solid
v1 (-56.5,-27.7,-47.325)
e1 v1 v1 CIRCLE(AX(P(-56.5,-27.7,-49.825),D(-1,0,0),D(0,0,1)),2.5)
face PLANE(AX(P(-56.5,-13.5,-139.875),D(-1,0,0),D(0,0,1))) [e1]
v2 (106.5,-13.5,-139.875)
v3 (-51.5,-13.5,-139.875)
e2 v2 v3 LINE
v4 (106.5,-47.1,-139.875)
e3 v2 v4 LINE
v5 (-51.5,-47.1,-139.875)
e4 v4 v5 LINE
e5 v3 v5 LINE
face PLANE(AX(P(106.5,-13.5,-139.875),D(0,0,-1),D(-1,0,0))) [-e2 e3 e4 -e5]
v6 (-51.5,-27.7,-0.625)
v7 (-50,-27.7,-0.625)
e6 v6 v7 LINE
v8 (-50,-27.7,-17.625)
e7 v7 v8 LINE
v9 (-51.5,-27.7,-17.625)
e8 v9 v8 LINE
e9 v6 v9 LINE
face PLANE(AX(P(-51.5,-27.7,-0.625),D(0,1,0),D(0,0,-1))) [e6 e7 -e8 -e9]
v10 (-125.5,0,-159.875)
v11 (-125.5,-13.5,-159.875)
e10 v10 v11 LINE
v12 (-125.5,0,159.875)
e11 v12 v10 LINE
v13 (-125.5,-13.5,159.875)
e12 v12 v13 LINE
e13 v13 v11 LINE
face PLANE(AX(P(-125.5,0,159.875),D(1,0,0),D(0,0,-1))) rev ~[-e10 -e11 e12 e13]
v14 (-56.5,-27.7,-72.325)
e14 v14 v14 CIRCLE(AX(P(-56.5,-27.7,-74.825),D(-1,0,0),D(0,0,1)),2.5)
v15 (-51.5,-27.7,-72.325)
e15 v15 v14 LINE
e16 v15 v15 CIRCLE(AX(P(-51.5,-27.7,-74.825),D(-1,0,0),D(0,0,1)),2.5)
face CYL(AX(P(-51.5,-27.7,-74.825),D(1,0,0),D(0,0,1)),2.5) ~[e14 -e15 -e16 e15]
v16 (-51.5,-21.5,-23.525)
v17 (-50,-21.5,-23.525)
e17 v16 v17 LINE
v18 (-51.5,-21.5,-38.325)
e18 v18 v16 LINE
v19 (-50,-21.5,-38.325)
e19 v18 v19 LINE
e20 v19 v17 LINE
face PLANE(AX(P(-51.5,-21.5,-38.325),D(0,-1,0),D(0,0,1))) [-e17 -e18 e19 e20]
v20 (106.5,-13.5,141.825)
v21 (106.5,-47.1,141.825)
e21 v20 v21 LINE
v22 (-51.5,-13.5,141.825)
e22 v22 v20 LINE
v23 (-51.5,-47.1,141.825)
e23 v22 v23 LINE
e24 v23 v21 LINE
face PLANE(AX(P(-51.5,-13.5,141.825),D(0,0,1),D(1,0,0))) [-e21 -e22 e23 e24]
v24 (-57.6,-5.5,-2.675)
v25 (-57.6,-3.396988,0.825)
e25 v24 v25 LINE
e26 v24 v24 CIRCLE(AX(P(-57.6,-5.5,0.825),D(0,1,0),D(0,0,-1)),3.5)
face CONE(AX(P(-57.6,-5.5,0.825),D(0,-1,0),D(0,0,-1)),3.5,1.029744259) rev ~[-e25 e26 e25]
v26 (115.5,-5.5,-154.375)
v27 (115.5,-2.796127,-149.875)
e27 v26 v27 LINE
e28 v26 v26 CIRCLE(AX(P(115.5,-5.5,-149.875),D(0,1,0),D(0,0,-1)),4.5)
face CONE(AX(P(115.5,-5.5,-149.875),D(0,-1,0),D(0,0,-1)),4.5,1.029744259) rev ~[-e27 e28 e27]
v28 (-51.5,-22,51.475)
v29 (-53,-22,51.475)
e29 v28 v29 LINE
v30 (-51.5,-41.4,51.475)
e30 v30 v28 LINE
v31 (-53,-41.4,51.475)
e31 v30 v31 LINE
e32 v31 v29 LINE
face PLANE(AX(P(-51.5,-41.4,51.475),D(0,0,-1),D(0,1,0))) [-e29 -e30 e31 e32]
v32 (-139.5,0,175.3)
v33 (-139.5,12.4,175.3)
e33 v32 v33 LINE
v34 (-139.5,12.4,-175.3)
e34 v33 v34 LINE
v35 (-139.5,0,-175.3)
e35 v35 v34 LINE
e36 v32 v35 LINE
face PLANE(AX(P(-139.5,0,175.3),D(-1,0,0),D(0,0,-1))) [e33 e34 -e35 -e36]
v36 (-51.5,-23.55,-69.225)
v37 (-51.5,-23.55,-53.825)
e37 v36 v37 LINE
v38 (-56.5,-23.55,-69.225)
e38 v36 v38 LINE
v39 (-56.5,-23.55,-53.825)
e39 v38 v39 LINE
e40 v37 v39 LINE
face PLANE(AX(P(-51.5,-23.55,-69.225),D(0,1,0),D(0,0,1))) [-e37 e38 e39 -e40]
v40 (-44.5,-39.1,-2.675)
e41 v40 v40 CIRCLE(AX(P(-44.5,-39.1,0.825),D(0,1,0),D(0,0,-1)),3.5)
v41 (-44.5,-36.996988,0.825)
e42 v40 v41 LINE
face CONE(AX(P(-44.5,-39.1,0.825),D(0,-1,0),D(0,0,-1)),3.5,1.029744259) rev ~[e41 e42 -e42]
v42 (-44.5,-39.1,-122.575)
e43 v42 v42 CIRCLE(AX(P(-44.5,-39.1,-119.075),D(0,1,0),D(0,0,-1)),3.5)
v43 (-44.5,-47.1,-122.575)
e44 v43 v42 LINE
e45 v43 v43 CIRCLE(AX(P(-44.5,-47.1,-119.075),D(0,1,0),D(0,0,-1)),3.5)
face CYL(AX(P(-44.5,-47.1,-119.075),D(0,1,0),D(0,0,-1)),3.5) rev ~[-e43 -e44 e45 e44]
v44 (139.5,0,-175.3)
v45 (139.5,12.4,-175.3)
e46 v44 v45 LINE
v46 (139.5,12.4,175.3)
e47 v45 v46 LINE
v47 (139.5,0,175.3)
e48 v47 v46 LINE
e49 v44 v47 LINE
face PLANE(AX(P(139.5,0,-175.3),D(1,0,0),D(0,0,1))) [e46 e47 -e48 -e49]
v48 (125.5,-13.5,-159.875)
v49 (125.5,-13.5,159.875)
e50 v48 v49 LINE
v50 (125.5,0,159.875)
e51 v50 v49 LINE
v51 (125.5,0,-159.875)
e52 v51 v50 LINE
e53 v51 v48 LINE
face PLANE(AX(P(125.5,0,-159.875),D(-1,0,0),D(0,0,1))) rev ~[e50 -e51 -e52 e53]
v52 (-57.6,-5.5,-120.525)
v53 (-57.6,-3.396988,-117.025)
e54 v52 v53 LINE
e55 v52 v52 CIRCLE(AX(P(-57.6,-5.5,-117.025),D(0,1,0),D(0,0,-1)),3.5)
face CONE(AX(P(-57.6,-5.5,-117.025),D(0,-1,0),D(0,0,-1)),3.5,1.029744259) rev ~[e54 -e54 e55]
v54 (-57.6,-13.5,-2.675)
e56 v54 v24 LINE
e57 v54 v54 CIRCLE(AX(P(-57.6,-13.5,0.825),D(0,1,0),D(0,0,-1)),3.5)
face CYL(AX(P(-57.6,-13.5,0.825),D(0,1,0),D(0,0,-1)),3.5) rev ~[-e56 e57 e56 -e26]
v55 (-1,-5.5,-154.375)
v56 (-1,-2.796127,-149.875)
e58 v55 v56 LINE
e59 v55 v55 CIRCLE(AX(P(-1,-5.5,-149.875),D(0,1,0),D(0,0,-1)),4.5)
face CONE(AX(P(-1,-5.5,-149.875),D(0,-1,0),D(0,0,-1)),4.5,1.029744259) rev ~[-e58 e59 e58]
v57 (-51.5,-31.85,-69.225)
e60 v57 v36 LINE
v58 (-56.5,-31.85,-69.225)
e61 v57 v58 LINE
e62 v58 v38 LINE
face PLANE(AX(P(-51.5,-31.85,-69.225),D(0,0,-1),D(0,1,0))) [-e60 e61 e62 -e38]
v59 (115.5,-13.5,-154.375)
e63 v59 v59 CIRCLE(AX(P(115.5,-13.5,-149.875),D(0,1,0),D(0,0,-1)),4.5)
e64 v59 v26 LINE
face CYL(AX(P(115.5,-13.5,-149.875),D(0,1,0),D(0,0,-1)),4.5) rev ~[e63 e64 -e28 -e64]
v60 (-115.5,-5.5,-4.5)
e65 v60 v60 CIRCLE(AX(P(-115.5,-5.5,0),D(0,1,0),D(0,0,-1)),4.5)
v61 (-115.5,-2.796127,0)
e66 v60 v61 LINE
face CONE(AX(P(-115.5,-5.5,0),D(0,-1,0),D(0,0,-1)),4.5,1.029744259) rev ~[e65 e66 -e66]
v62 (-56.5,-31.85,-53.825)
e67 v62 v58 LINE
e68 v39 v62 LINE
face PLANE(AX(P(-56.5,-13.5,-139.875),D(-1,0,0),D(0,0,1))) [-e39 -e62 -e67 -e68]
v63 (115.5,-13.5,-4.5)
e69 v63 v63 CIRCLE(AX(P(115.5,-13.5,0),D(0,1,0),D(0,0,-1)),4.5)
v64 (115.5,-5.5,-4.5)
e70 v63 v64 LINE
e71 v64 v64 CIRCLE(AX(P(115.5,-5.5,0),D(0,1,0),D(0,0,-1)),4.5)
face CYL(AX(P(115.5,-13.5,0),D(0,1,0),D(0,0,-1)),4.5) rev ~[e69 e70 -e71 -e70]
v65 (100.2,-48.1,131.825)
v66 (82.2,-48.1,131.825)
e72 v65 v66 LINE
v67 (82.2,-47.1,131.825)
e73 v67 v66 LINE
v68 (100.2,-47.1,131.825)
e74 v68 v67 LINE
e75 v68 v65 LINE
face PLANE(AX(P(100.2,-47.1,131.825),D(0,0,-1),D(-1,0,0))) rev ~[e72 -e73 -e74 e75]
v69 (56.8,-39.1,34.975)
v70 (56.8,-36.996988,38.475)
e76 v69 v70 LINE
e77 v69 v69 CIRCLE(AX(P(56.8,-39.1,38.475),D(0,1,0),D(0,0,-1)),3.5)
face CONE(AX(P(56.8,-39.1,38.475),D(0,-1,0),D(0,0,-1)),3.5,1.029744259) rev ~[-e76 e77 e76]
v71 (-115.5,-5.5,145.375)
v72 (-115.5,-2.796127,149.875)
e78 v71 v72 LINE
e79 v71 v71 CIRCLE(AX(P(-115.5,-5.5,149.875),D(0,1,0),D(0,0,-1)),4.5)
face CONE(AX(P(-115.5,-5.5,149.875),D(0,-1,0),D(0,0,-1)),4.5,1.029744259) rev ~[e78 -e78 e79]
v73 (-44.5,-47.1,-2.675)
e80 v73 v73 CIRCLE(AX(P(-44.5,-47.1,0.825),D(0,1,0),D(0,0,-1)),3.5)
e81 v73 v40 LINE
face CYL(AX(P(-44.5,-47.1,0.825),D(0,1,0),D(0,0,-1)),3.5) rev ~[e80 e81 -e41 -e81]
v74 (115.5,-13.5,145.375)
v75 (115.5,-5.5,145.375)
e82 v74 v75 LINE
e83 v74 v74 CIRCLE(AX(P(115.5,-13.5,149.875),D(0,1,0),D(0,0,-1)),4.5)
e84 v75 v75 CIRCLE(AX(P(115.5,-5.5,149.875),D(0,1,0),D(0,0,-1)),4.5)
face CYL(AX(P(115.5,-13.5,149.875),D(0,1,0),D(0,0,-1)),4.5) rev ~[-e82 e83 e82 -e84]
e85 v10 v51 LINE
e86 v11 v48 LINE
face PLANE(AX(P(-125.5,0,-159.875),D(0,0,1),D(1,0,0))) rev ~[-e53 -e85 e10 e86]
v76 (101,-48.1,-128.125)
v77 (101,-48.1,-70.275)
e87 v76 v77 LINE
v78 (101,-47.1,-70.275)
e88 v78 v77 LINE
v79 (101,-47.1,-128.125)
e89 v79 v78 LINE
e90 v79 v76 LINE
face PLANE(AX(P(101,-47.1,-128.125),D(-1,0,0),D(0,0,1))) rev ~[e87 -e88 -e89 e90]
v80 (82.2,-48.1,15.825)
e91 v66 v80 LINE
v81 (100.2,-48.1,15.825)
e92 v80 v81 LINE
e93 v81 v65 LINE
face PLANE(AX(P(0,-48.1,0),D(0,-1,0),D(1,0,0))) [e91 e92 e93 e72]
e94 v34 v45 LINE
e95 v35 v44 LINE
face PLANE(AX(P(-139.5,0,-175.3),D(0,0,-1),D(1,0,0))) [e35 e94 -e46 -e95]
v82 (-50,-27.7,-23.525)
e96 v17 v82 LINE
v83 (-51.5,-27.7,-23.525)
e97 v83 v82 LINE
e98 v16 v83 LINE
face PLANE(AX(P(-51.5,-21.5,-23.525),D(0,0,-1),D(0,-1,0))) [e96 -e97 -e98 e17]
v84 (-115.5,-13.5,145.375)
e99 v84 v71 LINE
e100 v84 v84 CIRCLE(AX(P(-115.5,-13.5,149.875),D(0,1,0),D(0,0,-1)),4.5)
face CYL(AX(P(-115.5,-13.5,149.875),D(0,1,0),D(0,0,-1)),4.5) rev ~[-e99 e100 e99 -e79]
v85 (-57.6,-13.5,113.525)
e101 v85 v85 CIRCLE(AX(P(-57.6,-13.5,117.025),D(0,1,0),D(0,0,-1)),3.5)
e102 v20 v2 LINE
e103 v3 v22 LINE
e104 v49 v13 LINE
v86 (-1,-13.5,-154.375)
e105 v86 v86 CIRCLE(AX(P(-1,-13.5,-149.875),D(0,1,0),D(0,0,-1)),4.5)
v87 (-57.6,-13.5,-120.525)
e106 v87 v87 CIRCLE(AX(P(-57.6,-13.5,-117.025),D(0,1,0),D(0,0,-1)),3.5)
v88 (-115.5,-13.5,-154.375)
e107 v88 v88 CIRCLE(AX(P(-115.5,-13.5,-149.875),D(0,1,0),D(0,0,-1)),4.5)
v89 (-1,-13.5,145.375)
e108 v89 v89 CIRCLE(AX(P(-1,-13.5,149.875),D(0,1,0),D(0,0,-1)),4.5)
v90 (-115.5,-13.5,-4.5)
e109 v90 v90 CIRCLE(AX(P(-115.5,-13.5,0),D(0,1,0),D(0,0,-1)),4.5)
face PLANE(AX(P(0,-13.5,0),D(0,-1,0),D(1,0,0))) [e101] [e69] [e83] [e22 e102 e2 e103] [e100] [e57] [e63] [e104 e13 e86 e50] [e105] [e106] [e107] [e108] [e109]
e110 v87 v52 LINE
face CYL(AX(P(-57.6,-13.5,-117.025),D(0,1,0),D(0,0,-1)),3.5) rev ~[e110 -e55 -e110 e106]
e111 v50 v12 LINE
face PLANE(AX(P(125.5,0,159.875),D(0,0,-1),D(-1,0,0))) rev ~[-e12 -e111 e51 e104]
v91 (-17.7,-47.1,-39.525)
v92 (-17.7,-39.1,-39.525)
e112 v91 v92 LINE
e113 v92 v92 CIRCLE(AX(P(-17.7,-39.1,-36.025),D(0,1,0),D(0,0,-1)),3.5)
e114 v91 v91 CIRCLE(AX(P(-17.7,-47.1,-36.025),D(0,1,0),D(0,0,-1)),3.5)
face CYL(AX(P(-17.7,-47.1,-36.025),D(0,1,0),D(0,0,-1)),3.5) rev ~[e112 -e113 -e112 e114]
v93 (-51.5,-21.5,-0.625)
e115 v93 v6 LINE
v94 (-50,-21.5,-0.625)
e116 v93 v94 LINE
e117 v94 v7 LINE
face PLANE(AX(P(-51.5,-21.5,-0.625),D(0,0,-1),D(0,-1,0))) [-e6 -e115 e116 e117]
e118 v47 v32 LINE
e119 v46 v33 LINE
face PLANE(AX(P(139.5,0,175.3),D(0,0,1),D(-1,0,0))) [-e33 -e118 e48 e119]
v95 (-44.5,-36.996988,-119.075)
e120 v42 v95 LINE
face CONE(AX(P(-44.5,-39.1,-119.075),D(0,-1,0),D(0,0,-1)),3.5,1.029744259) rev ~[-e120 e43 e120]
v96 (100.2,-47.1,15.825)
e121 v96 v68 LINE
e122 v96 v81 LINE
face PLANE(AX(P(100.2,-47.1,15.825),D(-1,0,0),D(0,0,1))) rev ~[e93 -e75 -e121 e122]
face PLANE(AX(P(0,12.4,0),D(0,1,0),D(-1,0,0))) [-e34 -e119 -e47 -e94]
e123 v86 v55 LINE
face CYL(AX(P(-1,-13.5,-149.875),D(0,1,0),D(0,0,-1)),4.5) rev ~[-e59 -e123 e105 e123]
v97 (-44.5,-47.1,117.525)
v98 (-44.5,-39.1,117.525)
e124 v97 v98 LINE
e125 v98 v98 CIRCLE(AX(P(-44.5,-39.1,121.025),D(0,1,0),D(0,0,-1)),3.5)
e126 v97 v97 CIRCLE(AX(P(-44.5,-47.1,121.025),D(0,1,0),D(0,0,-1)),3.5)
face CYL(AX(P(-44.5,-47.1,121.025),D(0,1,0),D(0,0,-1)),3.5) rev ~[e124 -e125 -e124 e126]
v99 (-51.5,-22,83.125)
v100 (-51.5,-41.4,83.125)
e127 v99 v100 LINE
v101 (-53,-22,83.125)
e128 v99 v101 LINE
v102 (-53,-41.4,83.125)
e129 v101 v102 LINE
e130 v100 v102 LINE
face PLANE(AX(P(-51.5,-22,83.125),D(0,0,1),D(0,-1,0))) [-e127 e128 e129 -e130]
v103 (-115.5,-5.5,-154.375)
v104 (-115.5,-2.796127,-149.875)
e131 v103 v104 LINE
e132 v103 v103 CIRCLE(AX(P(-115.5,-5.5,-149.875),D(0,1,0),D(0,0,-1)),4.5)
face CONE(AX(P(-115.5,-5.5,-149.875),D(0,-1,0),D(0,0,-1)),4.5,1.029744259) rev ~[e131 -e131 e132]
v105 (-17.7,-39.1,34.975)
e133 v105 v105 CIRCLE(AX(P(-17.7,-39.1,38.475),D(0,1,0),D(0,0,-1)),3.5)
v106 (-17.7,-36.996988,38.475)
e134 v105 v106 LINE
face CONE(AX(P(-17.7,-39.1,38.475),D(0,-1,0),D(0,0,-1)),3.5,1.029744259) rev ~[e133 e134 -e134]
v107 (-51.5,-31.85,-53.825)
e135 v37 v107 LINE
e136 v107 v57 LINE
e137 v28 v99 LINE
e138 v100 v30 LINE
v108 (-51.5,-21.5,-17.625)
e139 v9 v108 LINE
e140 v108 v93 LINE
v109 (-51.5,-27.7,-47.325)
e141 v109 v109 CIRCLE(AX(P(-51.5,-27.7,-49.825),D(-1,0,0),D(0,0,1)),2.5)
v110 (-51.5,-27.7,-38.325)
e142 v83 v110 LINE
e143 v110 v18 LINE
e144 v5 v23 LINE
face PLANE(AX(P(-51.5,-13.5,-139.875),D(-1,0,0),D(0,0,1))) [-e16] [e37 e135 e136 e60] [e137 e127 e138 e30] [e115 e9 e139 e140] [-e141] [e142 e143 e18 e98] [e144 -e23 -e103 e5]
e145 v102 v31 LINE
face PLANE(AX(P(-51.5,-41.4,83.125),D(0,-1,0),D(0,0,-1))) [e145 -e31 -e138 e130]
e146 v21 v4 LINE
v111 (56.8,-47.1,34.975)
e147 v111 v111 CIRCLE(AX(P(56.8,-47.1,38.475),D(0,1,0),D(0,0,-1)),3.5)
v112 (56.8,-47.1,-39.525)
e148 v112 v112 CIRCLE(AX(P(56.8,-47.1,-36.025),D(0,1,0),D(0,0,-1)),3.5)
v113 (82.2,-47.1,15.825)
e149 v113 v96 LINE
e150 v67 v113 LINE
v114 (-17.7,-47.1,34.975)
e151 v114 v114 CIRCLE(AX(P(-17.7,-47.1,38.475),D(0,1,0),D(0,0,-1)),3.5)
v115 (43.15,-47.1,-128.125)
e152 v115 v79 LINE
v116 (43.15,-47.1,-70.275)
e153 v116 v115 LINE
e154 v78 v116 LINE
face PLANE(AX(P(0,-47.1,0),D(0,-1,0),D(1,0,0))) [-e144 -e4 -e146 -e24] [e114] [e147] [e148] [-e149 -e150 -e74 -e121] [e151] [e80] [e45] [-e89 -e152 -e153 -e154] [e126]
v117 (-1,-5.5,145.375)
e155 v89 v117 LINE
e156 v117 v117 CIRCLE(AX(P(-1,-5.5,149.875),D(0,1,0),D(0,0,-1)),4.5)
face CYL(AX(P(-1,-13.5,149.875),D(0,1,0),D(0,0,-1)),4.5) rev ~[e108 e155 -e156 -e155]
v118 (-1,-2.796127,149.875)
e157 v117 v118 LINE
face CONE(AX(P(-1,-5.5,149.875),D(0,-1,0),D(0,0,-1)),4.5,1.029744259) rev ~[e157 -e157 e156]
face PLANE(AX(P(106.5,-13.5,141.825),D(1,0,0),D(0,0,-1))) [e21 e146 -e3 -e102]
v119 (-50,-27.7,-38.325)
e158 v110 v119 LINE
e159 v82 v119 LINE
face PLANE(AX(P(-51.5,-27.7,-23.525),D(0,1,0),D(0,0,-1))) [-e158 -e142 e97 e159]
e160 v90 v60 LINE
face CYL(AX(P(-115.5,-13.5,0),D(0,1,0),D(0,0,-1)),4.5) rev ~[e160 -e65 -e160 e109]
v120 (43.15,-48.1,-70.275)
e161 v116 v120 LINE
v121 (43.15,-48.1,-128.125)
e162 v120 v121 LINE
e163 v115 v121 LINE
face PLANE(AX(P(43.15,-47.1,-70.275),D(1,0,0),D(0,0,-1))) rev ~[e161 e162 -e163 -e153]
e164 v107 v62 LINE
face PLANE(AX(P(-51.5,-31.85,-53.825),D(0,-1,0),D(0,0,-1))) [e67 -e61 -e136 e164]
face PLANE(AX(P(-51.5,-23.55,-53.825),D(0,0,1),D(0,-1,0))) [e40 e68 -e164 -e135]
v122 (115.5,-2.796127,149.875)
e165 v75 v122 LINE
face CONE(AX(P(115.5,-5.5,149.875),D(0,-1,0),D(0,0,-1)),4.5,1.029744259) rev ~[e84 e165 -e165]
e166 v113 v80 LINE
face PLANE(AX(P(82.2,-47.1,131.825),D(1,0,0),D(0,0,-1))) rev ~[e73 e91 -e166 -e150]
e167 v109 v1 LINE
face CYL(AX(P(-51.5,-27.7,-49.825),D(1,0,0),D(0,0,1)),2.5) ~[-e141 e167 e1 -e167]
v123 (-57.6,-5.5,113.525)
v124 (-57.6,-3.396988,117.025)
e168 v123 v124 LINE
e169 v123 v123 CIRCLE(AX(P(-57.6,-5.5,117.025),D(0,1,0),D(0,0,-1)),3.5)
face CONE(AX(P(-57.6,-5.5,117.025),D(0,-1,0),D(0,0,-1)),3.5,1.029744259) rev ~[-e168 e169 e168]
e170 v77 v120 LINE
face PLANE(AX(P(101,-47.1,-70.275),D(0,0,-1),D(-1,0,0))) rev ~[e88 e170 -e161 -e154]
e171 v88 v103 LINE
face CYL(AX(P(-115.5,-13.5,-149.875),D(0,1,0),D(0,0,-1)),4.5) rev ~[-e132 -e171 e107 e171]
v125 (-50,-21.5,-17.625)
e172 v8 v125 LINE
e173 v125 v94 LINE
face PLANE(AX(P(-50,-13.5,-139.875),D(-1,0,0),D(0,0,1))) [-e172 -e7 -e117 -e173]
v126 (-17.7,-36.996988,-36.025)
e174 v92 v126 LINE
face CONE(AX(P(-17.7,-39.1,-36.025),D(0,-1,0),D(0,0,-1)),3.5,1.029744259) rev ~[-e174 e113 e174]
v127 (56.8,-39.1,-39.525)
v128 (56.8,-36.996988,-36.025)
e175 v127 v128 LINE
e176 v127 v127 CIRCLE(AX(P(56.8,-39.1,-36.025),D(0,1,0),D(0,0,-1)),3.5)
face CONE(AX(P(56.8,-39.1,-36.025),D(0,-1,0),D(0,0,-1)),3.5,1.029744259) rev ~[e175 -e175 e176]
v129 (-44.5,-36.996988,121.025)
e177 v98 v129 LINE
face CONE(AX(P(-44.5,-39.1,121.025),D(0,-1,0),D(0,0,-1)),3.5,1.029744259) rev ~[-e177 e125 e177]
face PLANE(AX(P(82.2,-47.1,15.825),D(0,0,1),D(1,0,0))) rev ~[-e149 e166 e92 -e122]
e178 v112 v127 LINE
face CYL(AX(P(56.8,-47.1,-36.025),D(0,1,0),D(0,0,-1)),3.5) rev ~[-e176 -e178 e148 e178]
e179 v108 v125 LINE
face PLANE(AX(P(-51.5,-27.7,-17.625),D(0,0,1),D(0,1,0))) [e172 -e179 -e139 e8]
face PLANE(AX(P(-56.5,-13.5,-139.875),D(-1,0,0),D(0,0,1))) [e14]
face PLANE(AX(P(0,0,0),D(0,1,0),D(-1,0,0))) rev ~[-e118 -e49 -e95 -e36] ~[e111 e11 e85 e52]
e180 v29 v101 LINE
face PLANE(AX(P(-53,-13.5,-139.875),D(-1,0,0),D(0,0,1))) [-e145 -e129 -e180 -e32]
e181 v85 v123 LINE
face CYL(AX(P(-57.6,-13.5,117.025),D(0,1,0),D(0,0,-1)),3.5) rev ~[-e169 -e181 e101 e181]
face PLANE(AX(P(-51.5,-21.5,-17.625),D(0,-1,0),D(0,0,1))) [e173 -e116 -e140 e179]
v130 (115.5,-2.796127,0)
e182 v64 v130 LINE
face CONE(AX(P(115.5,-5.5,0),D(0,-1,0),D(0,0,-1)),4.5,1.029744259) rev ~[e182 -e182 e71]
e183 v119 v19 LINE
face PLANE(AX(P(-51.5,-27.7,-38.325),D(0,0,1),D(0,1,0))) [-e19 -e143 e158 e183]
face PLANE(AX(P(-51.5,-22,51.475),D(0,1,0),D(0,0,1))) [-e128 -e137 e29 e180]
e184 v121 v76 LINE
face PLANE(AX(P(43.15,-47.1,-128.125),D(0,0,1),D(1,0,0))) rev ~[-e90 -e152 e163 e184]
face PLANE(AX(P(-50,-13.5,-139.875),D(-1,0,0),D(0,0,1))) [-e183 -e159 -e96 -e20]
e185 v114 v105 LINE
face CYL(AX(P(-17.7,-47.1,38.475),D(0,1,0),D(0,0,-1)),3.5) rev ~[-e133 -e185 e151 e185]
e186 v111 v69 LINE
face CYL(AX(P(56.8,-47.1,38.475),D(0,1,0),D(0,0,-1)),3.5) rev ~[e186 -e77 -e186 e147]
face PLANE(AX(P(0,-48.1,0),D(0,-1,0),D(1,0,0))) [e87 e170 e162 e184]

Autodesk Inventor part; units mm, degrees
ref_plane "YZ Plane" through (0, 0, 0) normal (1, 0, 0) x (0, 1, 0)
ref_plane "XZ Plane" through (0, 0, 0) normal (0, 1, 0) x (-1, 0, 0)
ref_plane "XY Plane" through (0, 0, 0) normal (0, 0, 1) x (1, 0, 0)
sketch "Sketch1" plane through (0, 0, 0) normal (0, 1, 0) x (-1, 0, 0)
  point P0 (0, 0)
sketch "Sketch2" plane through (0, 0, 0) normal (0, 1, 0) x (-1, 0, 0)
  line L0 (-139.5, 175.3) -> (139.5, 175.3)
  line L1 (139.5, 175.3) -> (139.5, -175.3)
  line L2 (139.5, -175.3) -> (-139.5, -175.3)
  line L3 (-139.5, -175.3) -> (-139.5, 175.3)
  line L4 (-139.5, 175.3) -> (139.5, -175.3) construction
  line L5 (139.5, 175.3) -> (-139.5, -175.3) construction
  point P0 (0, 0)
  dimension "d0" = 350.6
  dimension "d1" = 279
extrude "Extrusion1" add sketch "Sketch2" along normal blind 12.4
sketch "Sketch3" plane through (0, 0, 0) normal (0, -1, 0) x (1, 0, 0)
  line L0 (-125.5, -159.875) -> (125.5, -159.875)
  line L1 (125.5, -159.875) -> (125.5, 159.875)
  line L2 (125.5, 159.875) -> (-125.5, 159.875)
  line L3 (-125.5, 159.875) -> (-125.5, -159.875)
  line L4 (-125.5, -159.875) -> (125.5, 159.875) construction
  line L5 (125.5, -159.875) -> (-125.5, 159.875) construction
  point P0 (0, 0)
  dimension "d4" = 319.75
  dimension "d5" = 251
extrude "Extrusion2" add sketch "Sketch3" along normal blind 13.5
sketch "Sketch4" plane through (0, -13.5, 0) normal (0, -1, 0) x (1, 0, 0)
  line L0 (125.5, 159.875) -> (-125.5, 159.875) projected
  line L1 (-125.5, 159.875) -> (-125.5, -159.875) projected
  line L2 (125.5, -159.875) -> (125.5, 159.875) projected
  line L3 (-125.5, -159.875) -> (125.5, -159.875) projected
  point P0 (0, 0)
  point P1 (-115.5, 149.875)
  point P2 (-115.5, -149.875)
  point P3 (115.5, 149.875)
  point P4 (115.5, -149.875)
  dimension "d15" = 10
  dimension "d16" = 10
  dimension "d19" = 299.75
  dimension "d22" = 231
  dimension "d25" = 10
  dimension "d26" = 10
hole "Hole1" at (-115.5, -13.5, 149.875) at (115.5, -13.5, 149.875) at (115.5, -13.5, -149.875) at (-115.5, -13.5, -149.875) direction (0, 1, 0) diameter 9 depth 8 tip angle 118
sketch "Sketch5" plane through (0, -13.5, 0) normal (0, -1, 0) x (1, 0, 0)
  line L0 (125.5, 159.875) -> (-125.5, 159.875) projected
  line L1 (-125.5, 159.875) -> (-125.5, -159.875) projected
  line L2 (125.5, -159.875) -> (125.5, 159.875) projected
  point P0 (0, 0)
  point P1 (-115.5, 0)
  point P2 (115.5, 0)
  dimension "d34" = 159.875
  dimension "d35" = 10
  dimension "d38" = 231
  dimension "d43" = 10
hole "Hole2" at (-115.5, -13.5, 0) at (115.5, -13.5, 0) direction (0, 1, 0) diameter 9 depth 8 tip angle 118
sketch "Sketch6" plane through (0, -13.5, 0) normal (0, -1, 0) x (1, 0, 0)
  circle A0 centre (-115.5, 149.875) radius 4.5 projected
  line L0 (-125.5, 159.875) -> (-125.5, -159.875) projected
  line L1 (-125.5, -159.875) -> (125.5, -159.875) projected
  line L2 (125.5, 159.875) -> (-125.5, 159.875) projected
  point P0 (0, 0)
  point P1 (-1, 149.875)
  point P2 (-1, -149.875)
  dimension "d55" = 298
  dimension "d52" = 124.5
  dimension "d60" = 10
  dimension "d188" = 10
hole "Hole3" at (-1, -13.5, -149.875) at (-1, -13.5, 149.875) direction (0, 1, 0) diameter 9 depth 8 tip angle 118
sketch "Sketch7" plane through (0, -13.5, 0) normal (0, -1, 0) x (1, 0, 0)
  line L0 (-51.5, 141.825) -> (106.5, 141.825)
  line L1 (106.5, 141.825) -> (106.5, -139.875)
  line L2 (106.5, -139.875) -> (-51.5, -139.875)
  line L3 (-51.5, -139.875) -> (-51.5, 141.825)
  line L4 (-51.5, 141.825) -> (106.5, -139.875) construction
  line L5 (106.5, 141.825) -> (-51.5, -139.875) construction
  line L6 (125.5, -159.875) -> (125.5, 159.875) projected
  line L7 (-125.5, -159.875) -> (125.5, -159.875) projected
  point P0 (0, 0)
  dimension "d61" = 281.7
  dimension "d62" = 158
  dimension "d63" = 19
  dimension "d64" = 20
extrude "Extrusion3" add sketch "Sketch7" along normal blind 33.6
sketch "Sketch8" plane through (0, -47.1, 0) normal (0, -1, 0) x (1, 0, 0)
  line L0 (100.2, 131.825) -> (82.2, 131.825)
  line L1 (82.2, 131.825) -> (82.2, 15.825)
  line L2 (82.2, 15.825) -> (100.2, 15.825)
  line L3 (100.2, 15.825) -> (100.2, 131.825)
  line L4 (100.2, 131.825) -> (82.2, 15.825) construction
  line L5 (82.2, 131.825) -> (100.2, 15.825) construction
  line L6 (106.5, -139.875) -> (106.5, 141.825) projected
  line L7 (106.5, 141.825) -> (-51.5, 141.825) projected
  point P0 (0, 0)
  point P1 (91.2, 73.825)
  dimension "d67" = 116
  dimension "d68" = 18
  dimension "d69" = 6.3
  dimension "d70" = 10
extrude "Extrusion4" add sketch "Sketch8" along normal blind 1
sketch "Sketch9" plane through (0, -47.1, 0) normal (0, -1, 0) x (1, 0, 0)
  line L0 (101, -70.275) -> (43.15, -70.275)
  line L1 (43.15, -70.275) -> (43.15, -128.125)
  line L2 (43.15, -128.125) -> (101, -128.125)
  line L3 (101, -128.125) -> (101, -70.275)
  line L4 (101, -70.275) -> (43.15, -128.125) construction
  line L5 (43.15, -70.275) -> (101, -128.125) construction
  line L6 (106.5, -139.875) -> (106.5, 141.825) projected
  line L7 (-51.5, -139.875) -> (106.5, -139.875) projected
  point P0 (0, 0)
  point P1 (72.075, -99.2)
  dimension "d73" = 5.5
  dimension "d74" = 57.85
  dimension "d75" = 11.75
  dimension "d76" = 57.85
extrude "Extrusion5" add sketch "Sketch9" along normal blind 1
sketch "Sketch10" plane through (0, -47.1, 0) normal (0, -1, 0) x (1, 0, 0)
  line L0 (106.5, 141.825) -> (-51.5, 141.825) projected
  line L1 (-51.5, 141.825) -> (-51.5, -139.875) projected
  line L2 (-51.5, -139.875) -> (106.5, -139.875) projected
  point P0 (0, 0)
  point P1 (-44.5, 121.025)
  point P2 (-44.5, -119.075)
  dimension "d86" = 20.8
  dimension "d87" = 7
  dimension "d90" = 240.1
  dimension "d95" = 20.8
hole "Hole4" at (-44.5, -47.1, 121.025) at (-44.5, -47.1, -119.075) direction (0, 1, 0) diameter 7 depth 8 tip angle 118
sketch "Sketch11" plane through (0, -47.1, 0) normal (0, -1, 0) x (1, 0, 0)
  line L0 (106.5, 141.825) -> (-51.5, 141.825) projected
  line L1 (-51.5, 141.825) -> (-51.5, -139.875) projected
  line L2 (125.5, 159.875) -> (-125.5, 159.875) projected
  point P0 (0, 0)
  point P1 (-44.5, 0.825)
  dimension "d103" = 141
  dimension "d104" = 7
  dimension "d185" = 159.05
hole "Hole5" at (-44.5, -47.1, 0.825) direction (0, 1, 0) diameter 7 depth 8 tip angle 118
sketch "Sketch12" plane through (0, -47.1, 0) normal (0, -1, 0) x (1, 0, 0)
  line L0 (106.5, 141.825) -> (-51.5, 141.825) projected
  line L1 (-51.5, 141.825) -> (-51.5, -139.875) projected
  point P0 (0, 0)
  point P1 (-17.7, 38.475)
  point P2 (-17.7, -36.025)
  point P3 (56.8, 38.475)
  point P4 (56.8, -36.025)
  dimension "d112" = 103.35
  dimension "d113" = 33.8
  dimension "d116" = 74.5
  dimension "d119" = 74.5
hole "Hole6" at (-17.7, -47.1, 38.475) at (56.8, -47.1, 38.475) at (56.8, -47.1, -36.025) at (-17.7, -47.1, -36.025) direction (0, 1, 0) diameter 7 depth 8 tip angle 118
sketch "Sketch13" plane through (-51.5, -13.5, -139.875) normal (-1, 0, 0) x (0, 0, 1)
  line L0 (223, -27.9) -> (191.35, -27.9)
  line L1 (191.35, -27.9) -> (191.35, -8.5)
  line L2 (191.35, -8.5) -> (223, -8.5)
  line L3 (223, -8.5) -> (223, -27.9)
  line L4 (223, -27.9) -> (191.35, -8.5) construction
  line L5 (191.35, -27.9) -> (223, -8.5) construction
  line L6 (281.7, 0) -> (281.7, -33.6) projected
  line L7 (281.7, -33.6) -> (0, -33.6) projected
  point P0 (139.875, 13.5)
  point P1 (207.175, -18.2)
  dimension "d122" = 58.7
  dimension "d123" = 31.65
  dimension "d124" = 19.4
  dimension "d133" = 5.7
extrude "Extrusion6" add sketch "Sketch13" along normal blind 1.5
sketch "Sketch14" plane through (-51.5, -13.5, -139.875) normal (-1, 0, 0) x (0, 0, 1)
  line L0 (139.25, -14.2) -> (122.25, -14.2)
  line L1 (122.25, -14.2) -> (122.25, -8)
  line L2 (122.25, -8) -> (139.25, -8)
  line L3 (139.25, -8) -> (139.25, -14.2)
  line L4 (139.25, -14.2) -> (122.25, -8) construction
  line L5 (122.25, -14.2) -> (139.25, -8) construction
  line L6 (191.35, -8.5) -> (191.35, -27.9) projected
  line L7 (281.7, -33.6) -> (0, -33.6) projected
  line L8 (191.35, -27.9) -> (223, -27.9) projected
  line L9 (299.75, 0) -> (-20, 0) projected
  line L10 (223, -8.5) -> (191.35, -8.5) projected
  point P0 (139.875, 13.5)
  point P1 (130.75, -11.1)
  dimension "d127" = 52.1
  dimension "d128" = 6.2
  dimension "d129" = 17
  dimension "d130" = 19.4
  dimension "d131" = 5.7
  dimension "d132" = 8.5
extrude "Extrusion7" cut sketch "Sketch14" against normal blind 1.5
sketch "Sketch15" plane through (-51.5, -13.5, -139.875) normal (-1, 0, 0) x (0, 0, 1)
  line L0 (116.35, -14.2) -> (101.55, -14.2)
  line L1 (101.55, -14.2) -> (101.55, -8)
  line L2 (101.55, -8) -> (116.35, -8)
  line L3 (116.35, -8) -> (116.35, -14.2)
  line L4 (116.35, -14.2) -> (101.55, -8) construction
  line L5 (101.55, -14.2) -> (116.35, -8) construction
  line L6 (122.25, -14.2) -> (122.25, -8) projected
  line L7 (281.7, -33.6) -> (0, -33.6) projected
  point P0 (139.875, 13.5)
  point P1 (108.95, -11.1)
  dimension "d136" = 5.9
  dimension "d137" = 6.2
  dimension "d138" = 14.8
  dimension "d141" = 19.4
extrude "Extrusion8" cut sketch "Sketch15" against normal blind 1.5
sketch "Sketch16" plane through (-51.5, -13.5, -139.875) normal (-1, 0, 0) x (0, 0, 1)
  circle A0 centre (90.05, -14.2) radius 2.5
  line L0 (101.55, -14.2) -> (101.55, -8) projected
  line L1 (281.7, -33.6) -> (0, -33.6) projected
  circle A1 centre (65.05, -14.2) radius 2.5
  point P0 (139.875, 13.5)
  dimension "d142" = 11.5
  dimension "d143" = 19.4
  dimension "d144" = 5
  dimension "d147" = 25
extrude "Extrusion9" add sketch "Sketch16" along normal blind 5
sketch "Sketch17" plane through (-51.5, -13.5, -139.875) normal (-1, 0, 0) x (0, 0, 1)
  line L0 (86.05, -18.35) -> (70.65, -18.35)
  line L1 (70.65, -18.35) -> (70.65, -10.05)
  line L2 (70.65, -10.05) -> (86.05, -10.05)
  line L3 (86.05, -10.05) -> (86.05, -18.35)
  line L4 (86.05, -18.35) -> (70.65, -10.05) construction
  line L5 (70.65, -18.35) -> (86.05, -10.05) construction
  line L6 (101.55, -14.2) -> (101.55, -8) projected
  line L7 (281.7, -33.6) -> (0, -33.6) projected
  point P0 (139.875, 13.5)
  point P1 (78.35, -14.2)
  dimension "d154" = 8.3
  dimension "d155" = 15.4
  dimension "d156" = 15.5
  dimension "d157" = 19.4
extrude "Extrusion10" add sketch "Sketch17" along normal blind 5
sketch "Sketch18" plane through (0, -13.5, 0) normal (0, -1, 0) x (1, 0, 0)
  line L0 (125.5, 159.875) -> (-125.5, 159.875) projected
  line L1 (-125.5, 159.875) -> (-125.5, -159.875) projected
  line L2 (-125.5, -159.875) -> (125.5, -159.875) projected
  point P0 (0, 0)
  point P1 (-57.6, 117.025)
  point P2 (-57.6, -117.025)
  dimension "d167" = 42.85
  dimension "d168" = 67.9
  dimension "d171" = 234.05
  dimension "d176" = 42.85
hole "Hole7" at (-57.6, -13.5, 117.025) at (-57.6, -13.5, -117.025) direction (0, 1, 0) diameter 7 depth 8 tip angle 118
sketch "Sketch19" plane through (0, -13.5, 0) normal (0, -1, 0) x (1, 0, 0)
  circle A0 centre (-57.6, 117.025) radius 3.5 projected
  line L0 (125.5, 159.875) -> (-125.5, 159.875) projected
  line L1 (-125.5, 159.875) -> (-125.5, -159.875) projected
  point P0 (0, 0)
  point P1 (-57.6, 0.825)
  dimension "d186" = 159.05
  dimension "d187" = 67.9
hole "Hole8" at (-57.6, -13.5, 0.825) direction (0, 1, 0) diameter 7 depth 8 tip angle 118
properties part number "LCDScreen"
